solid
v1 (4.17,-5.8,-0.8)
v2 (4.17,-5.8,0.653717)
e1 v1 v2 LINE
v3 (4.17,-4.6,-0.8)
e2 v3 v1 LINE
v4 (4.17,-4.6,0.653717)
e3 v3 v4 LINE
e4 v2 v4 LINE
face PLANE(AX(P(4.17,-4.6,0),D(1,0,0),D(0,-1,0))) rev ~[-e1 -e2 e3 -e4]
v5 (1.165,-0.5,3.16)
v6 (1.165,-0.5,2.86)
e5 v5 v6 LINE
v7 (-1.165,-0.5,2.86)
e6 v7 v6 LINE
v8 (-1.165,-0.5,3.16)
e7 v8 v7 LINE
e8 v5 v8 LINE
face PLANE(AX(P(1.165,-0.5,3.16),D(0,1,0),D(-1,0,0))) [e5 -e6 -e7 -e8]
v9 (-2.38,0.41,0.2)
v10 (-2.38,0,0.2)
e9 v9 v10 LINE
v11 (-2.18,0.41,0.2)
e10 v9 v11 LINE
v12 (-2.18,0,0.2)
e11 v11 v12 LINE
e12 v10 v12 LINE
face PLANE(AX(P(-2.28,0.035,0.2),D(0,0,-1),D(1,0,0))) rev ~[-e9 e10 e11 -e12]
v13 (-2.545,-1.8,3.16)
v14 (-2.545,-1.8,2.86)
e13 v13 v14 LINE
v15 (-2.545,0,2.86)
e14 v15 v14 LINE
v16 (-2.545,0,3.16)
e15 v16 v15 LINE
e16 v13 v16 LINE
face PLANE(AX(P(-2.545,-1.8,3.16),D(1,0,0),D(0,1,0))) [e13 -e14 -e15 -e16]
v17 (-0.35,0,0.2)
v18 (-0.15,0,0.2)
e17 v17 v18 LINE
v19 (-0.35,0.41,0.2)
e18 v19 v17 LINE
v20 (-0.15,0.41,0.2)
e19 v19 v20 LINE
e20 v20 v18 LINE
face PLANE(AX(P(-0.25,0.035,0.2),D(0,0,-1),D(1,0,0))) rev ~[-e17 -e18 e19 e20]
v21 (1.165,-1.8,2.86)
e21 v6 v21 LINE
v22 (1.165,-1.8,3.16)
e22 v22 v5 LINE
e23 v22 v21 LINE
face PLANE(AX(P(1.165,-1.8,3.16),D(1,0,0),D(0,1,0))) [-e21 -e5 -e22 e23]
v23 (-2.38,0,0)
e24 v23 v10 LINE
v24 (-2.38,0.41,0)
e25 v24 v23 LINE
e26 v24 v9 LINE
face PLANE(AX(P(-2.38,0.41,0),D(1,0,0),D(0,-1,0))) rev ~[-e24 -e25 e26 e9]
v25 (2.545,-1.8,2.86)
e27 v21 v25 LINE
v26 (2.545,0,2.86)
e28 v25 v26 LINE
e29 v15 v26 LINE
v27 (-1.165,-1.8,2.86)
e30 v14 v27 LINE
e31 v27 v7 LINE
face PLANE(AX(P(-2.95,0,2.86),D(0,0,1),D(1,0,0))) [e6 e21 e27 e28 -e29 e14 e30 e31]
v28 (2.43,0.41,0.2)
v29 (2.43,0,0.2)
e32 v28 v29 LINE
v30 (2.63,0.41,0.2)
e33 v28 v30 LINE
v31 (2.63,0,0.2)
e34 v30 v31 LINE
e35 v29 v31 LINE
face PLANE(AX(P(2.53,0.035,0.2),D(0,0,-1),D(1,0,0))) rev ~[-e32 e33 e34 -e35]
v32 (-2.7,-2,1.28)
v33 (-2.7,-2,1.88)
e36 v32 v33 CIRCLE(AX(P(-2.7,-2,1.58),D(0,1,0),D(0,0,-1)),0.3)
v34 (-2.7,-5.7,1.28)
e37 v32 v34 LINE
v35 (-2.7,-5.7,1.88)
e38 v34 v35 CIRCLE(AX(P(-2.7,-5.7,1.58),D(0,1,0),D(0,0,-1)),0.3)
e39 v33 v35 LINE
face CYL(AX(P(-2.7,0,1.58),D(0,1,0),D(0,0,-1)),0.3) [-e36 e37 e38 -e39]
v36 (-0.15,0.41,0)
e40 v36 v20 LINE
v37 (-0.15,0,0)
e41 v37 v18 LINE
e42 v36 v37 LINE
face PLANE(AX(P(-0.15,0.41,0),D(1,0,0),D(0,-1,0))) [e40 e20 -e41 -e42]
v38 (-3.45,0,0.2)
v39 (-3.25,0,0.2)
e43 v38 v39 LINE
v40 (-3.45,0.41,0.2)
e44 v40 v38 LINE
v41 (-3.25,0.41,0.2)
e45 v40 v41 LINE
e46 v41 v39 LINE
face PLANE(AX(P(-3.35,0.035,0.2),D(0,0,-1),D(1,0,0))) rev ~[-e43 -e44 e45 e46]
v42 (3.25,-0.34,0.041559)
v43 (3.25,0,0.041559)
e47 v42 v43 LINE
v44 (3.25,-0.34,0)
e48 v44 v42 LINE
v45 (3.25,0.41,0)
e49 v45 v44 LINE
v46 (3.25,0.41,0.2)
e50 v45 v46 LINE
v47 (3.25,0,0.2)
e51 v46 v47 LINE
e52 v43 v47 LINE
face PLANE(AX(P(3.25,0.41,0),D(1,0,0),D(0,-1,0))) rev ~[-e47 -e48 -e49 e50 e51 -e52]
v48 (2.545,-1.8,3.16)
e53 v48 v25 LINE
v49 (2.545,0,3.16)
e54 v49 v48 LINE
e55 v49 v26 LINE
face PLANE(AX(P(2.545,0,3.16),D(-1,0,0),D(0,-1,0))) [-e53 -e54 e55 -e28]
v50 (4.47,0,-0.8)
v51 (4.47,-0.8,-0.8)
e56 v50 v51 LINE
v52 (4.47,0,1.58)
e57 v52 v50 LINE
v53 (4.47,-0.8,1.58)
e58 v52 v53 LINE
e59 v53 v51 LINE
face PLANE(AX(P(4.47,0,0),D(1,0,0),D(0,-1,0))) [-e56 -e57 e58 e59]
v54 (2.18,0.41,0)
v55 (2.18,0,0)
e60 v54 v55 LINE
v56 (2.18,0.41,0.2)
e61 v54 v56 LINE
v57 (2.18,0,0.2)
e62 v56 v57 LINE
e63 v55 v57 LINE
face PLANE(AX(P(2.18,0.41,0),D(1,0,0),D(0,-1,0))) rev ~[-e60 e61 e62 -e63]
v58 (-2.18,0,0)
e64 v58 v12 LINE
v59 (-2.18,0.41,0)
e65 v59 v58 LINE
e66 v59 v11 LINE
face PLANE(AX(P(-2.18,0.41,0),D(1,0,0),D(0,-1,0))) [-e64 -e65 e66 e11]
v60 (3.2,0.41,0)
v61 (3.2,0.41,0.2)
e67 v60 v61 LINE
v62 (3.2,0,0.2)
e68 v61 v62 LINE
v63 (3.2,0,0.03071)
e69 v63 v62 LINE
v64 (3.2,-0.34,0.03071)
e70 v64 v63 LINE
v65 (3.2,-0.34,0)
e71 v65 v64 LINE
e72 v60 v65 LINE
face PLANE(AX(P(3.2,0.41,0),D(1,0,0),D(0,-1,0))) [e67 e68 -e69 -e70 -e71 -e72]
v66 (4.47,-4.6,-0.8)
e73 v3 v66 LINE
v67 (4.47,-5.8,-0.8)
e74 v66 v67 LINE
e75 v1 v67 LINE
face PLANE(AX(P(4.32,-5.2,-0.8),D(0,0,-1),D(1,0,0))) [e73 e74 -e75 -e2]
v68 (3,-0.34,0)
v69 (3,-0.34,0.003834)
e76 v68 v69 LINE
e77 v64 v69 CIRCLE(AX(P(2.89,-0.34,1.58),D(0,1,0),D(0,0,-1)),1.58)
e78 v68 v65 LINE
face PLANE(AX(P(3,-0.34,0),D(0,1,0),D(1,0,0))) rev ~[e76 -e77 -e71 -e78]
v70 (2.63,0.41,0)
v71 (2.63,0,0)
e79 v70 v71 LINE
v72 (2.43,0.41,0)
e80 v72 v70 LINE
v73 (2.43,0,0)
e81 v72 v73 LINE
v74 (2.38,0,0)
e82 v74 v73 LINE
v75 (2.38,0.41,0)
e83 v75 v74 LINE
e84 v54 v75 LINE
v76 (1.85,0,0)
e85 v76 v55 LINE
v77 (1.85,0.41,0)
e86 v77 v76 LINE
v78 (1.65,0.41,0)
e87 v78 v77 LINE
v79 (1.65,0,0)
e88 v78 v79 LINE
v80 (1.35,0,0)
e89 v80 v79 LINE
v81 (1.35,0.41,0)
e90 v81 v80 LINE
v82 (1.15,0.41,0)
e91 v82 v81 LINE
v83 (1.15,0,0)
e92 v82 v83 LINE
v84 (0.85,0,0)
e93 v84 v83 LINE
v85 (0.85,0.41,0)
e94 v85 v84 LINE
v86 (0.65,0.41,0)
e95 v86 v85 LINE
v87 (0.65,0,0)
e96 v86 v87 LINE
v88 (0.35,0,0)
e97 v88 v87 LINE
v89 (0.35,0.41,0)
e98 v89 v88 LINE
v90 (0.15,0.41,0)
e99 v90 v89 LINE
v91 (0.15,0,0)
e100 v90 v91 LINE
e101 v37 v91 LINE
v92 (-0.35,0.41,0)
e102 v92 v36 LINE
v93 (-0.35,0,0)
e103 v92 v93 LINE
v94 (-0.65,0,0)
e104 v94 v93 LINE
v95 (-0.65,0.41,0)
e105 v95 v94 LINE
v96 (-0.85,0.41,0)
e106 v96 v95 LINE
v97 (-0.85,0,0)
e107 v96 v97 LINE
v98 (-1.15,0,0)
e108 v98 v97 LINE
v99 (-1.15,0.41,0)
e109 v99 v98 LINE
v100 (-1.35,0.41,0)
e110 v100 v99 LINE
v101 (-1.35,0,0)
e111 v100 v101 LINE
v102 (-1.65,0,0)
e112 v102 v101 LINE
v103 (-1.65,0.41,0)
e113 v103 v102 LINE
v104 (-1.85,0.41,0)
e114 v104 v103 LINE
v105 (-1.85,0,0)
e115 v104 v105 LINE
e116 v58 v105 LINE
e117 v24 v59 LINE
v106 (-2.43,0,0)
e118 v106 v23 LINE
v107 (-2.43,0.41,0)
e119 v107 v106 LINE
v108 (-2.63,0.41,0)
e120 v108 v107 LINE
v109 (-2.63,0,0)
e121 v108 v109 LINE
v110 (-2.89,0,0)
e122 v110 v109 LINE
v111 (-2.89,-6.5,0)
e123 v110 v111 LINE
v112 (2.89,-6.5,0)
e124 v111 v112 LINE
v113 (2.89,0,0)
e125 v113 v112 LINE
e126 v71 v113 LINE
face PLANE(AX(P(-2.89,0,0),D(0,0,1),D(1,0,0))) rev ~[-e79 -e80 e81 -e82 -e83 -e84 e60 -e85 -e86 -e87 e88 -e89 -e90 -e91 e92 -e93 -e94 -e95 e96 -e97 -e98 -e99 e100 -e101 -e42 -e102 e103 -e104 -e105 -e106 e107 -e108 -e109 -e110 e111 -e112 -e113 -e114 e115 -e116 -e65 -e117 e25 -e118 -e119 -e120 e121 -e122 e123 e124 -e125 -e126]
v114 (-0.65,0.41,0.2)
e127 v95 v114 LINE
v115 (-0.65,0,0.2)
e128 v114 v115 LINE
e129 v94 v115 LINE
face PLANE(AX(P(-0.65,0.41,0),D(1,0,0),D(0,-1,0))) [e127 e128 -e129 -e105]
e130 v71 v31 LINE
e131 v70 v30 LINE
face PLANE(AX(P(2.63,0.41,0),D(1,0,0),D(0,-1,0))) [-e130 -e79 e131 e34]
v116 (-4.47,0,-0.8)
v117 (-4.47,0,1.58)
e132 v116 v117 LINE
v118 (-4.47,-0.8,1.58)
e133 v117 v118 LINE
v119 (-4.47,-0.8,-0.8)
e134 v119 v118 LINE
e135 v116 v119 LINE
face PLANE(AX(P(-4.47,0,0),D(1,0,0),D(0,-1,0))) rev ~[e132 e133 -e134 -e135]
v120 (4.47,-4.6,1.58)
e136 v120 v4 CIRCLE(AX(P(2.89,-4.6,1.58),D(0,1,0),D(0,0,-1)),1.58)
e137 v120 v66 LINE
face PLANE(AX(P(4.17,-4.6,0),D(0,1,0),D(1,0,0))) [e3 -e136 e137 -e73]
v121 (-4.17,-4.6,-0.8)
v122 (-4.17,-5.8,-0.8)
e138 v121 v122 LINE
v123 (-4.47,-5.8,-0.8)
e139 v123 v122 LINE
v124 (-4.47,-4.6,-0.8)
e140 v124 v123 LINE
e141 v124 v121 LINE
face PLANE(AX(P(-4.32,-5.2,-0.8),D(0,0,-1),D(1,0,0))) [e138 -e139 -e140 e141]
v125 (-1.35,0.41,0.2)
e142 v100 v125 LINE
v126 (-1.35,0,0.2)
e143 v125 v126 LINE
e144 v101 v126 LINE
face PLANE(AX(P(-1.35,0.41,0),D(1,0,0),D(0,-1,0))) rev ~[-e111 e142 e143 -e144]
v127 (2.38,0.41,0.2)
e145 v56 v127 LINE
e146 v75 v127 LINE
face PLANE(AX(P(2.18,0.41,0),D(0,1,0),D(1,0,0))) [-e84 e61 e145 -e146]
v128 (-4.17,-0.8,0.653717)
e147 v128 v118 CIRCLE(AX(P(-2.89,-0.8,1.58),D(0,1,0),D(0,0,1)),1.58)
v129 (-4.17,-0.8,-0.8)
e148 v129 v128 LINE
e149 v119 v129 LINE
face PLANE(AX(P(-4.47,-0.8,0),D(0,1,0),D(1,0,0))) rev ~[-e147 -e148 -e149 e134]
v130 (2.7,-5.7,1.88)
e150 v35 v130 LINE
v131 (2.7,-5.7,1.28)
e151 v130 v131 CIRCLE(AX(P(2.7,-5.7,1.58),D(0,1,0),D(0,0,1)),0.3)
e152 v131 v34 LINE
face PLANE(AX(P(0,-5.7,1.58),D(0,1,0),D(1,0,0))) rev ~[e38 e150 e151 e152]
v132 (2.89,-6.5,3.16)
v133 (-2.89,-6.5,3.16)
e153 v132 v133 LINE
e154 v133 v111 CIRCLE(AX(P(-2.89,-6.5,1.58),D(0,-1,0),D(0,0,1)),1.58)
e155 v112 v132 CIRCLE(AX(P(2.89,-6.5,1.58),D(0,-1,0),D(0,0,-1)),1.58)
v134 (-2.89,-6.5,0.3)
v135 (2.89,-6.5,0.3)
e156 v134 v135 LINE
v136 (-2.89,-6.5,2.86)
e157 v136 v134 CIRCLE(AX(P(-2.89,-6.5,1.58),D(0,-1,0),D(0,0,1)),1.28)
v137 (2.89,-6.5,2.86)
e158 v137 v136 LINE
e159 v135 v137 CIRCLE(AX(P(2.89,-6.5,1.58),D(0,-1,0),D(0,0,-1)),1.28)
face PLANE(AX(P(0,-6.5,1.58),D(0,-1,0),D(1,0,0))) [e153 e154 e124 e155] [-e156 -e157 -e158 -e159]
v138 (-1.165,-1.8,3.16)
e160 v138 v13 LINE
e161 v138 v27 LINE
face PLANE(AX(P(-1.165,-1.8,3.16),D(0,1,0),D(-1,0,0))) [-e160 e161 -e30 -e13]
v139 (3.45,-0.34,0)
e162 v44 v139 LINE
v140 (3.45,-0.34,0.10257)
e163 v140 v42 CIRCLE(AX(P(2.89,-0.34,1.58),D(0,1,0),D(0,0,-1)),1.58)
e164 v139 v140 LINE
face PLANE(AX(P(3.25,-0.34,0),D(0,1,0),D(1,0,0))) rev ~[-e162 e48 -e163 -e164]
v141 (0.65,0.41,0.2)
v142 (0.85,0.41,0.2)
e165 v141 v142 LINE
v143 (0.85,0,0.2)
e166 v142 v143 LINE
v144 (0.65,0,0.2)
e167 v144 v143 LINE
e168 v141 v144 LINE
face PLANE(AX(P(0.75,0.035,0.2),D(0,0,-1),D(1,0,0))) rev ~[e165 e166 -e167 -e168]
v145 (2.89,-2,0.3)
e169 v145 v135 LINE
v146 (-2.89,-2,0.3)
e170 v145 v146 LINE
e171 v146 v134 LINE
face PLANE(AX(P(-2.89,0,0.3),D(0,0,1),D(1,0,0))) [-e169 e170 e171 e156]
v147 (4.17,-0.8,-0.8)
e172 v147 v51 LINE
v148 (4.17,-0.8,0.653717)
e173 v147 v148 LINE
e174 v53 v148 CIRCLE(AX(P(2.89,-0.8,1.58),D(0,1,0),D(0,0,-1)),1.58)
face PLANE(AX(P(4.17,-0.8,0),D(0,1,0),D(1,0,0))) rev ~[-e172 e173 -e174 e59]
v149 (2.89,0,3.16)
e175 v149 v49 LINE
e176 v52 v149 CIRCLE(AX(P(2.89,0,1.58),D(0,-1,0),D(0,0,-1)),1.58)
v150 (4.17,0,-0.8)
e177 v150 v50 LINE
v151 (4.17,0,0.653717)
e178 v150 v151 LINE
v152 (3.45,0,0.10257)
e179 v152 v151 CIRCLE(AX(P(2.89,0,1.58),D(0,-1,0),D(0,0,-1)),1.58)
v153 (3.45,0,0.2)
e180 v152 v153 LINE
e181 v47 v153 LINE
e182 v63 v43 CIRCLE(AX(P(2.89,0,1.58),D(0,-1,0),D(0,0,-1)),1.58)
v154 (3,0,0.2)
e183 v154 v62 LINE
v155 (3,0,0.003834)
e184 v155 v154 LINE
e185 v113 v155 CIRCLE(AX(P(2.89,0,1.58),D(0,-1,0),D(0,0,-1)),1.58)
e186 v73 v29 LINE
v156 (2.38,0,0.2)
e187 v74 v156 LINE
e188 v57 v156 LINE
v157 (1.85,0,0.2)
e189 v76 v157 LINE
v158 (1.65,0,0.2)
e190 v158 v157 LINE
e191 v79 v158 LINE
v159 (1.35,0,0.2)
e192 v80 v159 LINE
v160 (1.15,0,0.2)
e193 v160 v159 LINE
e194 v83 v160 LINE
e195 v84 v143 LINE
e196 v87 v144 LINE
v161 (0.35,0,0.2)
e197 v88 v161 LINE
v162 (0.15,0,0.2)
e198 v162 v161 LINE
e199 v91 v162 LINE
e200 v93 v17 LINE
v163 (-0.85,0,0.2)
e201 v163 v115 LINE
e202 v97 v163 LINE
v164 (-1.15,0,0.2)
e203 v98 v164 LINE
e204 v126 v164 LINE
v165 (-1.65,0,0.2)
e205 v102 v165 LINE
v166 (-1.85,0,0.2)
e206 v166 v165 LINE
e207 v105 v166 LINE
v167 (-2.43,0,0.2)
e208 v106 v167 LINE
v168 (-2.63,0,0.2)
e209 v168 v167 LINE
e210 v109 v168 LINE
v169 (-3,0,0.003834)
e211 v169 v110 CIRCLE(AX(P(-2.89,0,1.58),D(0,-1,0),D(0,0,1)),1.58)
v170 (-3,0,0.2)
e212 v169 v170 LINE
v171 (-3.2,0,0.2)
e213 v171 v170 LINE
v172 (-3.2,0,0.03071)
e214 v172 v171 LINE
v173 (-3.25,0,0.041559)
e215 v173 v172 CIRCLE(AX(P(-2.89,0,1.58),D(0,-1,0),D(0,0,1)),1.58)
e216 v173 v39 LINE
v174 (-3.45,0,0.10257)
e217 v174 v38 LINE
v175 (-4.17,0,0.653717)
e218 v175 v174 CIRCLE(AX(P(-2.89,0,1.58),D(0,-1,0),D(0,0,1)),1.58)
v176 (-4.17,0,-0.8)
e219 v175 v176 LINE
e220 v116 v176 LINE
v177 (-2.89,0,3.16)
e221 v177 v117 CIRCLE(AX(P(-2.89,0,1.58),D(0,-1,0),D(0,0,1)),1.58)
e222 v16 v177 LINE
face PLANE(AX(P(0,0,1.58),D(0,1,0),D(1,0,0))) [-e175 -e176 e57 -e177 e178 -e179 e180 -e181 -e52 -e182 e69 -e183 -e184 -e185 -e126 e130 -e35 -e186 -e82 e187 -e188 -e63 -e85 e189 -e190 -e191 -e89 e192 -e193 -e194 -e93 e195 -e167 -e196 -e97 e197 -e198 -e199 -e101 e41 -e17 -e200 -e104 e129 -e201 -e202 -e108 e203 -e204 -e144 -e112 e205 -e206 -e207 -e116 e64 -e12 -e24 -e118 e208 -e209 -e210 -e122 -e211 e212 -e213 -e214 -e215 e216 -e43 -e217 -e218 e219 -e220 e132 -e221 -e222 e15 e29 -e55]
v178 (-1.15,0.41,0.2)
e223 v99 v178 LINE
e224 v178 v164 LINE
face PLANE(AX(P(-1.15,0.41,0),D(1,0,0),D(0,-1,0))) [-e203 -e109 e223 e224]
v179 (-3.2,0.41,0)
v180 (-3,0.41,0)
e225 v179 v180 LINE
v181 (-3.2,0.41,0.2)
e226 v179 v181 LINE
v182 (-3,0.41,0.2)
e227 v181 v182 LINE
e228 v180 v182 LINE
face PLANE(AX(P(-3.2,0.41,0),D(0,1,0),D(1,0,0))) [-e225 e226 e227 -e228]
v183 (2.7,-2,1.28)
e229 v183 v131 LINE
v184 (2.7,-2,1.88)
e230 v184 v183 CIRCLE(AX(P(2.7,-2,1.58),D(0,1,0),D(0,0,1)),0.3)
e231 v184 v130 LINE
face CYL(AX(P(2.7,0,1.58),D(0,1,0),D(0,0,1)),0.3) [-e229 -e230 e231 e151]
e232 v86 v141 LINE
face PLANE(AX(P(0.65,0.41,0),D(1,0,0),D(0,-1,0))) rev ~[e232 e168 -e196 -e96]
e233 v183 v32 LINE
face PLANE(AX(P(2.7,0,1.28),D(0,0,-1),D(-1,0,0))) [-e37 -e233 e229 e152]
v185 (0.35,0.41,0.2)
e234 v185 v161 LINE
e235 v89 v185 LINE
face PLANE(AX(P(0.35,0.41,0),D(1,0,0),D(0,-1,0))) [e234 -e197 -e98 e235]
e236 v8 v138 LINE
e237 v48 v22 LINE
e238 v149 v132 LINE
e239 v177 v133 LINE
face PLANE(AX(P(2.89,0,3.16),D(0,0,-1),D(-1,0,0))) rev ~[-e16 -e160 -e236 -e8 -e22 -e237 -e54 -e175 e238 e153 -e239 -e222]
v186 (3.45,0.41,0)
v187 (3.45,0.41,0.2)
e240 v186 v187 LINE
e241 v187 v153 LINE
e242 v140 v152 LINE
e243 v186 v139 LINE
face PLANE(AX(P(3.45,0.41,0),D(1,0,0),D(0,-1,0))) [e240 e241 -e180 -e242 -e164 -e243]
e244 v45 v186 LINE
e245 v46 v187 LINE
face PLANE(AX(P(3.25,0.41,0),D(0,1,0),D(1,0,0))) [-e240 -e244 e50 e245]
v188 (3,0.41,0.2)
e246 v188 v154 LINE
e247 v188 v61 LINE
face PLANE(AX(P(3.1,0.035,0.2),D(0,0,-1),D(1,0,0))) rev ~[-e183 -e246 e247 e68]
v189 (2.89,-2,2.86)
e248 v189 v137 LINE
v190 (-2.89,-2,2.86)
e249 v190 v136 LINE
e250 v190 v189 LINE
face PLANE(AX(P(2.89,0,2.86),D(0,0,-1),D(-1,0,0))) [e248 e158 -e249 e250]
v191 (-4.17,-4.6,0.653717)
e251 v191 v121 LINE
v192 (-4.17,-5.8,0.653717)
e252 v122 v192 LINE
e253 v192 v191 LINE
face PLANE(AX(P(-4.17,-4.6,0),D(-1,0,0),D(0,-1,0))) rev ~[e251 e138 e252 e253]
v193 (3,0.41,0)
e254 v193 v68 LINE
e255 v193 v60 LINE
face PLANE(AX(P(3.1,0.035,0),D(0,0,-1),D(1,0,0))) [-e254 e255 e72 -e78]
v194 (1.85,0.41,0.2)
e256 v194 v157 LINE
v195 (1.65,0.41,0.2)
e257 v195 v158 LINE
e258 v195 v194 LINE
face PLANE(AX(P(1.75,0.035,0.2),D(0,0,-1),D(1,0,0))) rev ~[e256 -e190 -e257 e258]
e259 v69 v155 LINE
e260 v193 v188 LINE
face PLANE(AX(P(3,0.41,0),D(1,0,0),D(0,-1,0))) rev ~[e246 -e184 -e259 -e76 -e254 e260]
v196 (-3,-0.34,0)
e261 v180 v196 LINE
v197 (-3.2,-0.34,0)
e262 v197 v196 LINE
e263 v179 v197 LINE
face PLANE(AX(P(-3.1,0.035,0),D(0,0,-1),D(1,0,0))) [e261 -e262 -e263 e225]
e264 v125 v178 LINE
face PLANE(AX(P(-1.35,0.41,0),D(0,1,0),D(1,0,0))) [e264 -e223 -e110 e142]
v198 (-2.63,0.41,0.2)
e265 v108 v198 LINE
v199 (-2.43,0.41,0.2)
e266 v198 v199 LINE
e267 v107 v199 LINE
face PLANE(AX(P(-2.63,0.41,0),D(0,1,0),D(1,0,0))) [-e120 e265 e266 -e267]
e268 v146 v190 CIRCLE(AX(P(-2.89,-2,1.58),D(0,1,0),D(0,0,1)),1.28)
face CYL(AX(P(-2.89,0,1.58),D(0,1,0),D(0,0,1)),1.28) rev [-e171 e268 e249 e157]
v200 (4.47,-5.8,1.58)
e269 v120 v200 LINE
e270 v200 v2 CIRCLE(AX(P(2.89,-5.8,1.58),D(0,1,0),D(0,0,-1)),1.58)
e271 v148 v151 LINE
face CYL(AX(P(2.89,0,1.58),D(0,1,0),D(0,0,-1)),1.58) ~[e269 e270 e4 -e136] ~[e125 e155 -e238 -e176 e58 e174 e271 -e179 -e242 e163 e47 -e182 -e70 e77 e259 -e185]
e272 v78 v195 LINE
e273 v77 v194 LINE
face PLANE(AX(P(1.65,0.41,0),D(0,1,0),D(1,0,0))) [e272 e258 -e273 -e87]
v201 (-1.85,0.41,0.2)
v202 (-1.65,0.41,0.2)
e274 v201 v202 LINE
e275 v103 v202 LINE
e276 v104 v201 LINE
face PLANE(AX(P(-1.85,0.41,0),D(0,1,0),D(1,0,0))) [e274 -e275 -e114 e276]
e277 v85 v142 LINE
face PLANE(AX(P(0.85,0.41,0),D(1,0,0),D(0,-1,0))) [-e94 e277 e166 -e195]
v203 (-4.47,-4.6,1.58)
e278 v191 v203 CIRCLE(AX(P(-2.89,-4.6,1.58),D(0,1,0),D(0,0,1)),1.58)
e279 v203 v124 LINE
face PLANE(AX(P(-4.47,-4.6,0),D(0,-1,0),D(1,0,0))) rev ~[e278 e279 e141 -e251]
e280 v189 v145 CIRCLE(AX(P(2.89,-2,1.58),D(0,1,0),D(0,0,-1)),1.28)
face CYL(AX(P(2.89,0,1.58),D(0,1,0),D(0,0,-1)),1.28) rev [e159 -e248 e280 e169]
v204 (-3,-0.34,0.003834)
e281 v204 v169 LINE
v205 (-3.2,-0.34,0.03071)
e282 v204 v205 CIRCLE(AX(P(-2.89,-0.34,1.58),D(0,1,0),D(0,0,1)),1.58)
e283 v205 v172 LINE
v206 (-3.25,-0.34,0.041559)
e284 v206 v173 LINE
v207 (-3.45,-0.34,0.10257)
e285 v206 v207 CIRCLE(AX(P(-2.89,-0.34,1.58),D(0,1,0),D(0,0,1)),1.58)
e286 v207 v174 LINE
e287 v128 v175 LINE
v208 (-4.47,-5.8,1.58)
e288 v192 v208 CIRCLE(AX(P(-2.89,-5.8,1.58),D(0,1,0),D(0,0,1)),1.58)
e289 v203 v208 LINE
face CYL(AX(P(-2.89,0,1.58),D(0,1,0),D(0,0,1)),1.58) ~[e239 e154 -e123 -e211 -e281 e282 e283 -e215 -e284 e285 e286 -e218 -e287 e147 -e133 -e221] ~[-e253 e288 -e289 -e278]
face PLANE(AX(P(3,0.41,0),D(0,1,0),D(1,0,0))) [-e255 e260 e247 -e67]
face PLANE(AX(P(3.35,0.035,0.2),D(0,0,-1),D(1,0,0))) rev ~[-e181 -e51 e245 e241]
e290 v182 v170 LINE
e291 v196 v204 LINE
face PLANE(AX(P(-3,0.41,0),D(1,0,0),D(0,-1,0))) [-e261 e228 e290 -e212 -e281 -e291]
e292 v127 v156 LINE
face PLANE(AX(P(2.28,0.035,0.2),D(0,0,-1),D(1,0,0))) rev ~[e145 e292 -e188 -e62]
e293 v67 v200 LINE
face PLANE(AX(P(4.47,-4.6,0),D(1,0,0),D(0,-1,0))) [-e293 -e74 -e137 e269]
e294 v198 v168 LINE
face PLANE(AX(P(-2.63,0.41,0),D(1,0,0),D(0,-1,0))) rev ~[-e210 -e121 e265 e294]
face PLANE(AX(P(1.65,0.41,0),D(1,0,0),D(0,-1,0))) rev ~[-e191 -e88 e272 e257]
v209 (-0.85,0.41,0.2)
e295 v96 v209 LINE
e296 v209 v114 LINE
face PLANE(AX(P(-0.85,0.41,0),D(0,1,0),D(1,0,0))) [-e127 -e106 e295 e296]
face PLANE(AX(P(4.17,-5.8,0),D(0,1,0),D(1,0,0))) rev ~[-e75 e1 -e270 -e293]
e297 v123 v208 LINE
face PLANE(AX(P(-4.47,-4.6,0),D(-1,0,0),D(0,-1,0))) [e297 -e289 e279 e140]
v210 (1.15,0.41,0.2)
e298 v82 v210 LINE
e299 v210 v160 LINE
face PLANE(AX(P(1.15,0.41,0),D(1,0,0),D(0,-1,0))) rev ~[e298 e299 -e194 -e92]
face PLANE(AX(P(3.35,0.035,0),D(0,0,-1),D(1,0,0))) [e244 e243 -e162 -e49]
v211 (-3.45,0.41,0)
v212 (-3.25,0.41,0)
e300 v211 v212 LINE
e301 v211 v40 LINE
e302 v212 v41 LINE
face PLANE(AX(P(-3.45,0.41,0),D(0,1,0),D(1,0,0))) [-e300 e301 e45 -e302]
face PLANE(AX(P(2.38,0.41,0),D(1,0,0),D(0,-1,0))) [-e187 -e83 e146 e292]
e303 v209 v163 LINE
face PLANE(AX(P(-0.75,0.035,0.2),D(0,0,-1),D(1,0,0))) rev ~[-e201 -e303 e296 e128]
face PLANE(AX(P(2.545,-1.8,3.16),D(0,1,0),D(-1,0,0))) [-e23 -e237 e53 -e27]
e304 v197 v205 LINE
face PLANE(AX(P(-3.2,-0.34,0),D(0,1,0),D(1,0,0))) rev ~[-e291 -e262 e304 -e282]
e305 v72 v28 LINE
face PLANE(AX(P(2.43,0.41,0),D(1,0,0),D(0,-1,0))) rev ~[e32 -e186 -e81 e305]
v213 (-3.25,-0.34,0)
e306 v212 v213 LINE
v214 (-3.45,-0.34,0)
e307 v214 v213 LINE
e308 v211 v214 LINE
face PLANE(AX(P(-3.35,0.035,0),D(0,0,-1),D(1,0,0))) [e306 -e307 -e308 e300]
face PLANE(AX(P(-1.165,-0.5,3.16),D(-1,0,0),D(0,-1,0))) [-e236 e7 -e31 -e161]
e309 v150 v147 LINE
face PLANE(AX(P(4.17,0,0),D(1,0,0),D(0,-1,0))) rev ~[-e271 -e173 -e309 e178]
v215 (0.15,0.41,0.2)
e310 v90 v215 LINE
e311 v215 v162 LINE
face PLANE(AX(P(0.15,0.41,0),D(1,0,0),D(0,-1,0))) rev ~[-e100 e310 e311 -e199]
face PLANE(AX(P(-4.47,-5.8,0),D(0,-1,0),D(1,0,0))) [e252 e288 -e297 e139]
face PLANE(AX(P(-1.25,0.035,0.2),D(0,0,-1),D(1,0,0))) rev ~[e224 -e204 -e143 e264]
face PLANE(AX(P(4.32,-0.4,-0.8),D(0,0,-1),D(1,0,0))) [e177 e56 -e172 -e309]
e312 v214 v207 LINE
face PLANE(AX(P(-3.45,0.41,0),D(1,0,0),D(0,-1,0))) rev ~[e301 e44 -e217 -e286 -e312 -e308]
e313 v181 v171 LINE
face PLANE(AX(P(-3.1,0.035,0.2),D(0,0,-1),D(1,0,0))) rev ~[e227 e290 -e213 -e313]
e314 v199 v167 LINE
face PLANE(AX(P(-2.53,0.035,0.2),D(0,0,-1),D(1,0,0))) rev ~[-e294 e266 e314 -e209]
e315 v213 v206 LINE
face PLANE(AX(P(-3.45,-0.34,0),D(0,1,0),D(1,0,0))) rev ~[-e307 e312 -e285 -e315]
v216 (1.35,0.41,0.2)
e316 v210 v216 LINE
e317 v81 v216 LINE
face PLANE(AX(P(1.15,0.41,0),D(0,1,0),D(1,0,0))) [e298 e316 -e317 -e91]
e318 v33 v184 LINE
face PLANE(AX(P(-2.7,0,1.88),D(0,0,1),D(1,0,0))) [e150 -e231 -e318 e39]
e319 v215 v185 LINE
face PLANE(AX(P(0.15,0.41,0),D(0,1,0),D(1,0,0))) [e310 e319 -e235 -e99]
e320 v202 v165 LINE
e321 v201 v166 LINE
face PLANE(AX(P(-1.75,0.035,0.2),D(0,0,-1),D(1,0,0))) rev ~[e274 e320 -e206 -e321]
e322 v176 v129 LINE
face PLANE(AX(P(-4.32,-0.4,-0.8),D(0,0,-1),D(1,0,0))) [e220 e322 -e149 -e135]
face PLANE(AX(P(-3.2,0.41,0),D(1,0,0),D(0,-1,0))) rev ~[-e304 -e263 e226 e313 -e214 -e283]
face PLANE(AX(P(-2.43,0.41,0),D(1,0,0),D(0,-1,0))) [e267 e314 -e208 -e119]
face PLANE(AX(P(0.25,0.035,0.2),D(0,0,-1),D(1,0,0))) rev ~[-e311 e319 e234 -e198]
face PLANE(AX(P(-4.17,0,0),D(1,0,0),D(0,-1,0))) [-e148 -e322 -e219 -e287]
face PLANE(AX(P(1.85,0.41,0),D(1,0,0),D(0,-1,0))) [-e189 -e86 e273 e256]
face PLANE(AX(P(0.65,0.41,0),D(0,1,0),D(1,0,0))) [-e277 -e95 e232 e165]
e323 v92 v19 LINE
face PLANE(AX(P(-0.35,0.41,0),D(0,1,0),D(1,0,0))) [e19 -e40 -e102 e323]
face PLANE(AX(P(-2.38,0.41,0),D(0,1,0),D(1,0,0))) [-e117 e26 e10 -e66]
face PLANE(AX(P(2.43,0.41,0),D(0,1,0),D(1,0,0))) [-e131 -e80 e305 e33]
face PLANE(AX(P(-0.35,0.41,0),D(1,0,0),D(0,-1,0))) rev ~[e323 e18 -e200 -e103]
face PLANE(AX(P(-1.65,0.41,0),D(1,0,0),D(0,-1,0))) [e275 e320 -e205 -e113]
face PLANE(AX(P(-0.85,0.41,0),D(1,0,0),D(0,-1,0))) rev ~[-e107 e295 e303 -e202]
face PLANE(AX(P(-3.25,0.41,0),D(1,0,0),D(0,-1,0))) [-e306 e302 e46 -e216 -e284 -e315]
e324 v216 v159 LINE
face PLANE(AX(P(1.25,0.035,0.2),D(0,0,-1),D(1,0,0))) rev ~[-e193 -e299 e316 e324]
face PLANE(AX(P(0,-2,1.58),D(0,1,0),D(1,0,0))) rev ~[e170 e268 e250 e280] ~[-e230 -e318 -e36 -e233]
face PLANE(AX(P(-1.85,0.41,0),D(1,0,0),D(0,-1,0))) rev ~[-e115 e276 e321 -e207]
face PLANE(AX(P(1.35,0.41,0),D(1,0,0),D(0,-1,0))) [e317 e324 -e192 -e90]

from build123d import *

# Parameters (mm, degrees)
PAD_DEPTH         = 6.5
POCKET_DEPTH      = 1
SKETCH002_W       = 0.3
SKETCH002_H       = 1.2
SKETCH002_H_2     = 0.8
PAD001_DEPTH      = 1.58
PAD001_DEPTH_BACK = -0.8
SKETCH004_W       = 0.2
SKETCH004_H       = 0.75
PAD002_DEPTH      = 0.2
PAD003_DEPTH      = 2
PAD004_DEPTH      = 5.7


with BuildPart() as part:
    # Sketch → Pad (new body)
    with BuildSketch(Plane.XZ):
        with BuildLine():
            ThreePointArc((-2.89, 3.16), (-4.47, 1.58), (-2.89, 0))
            Line((-2.89, 0), (2.89, 0))
            ThreePointArc((2.89, 0), (4.47, 1.58), (2.89, 3.16))
            Line((2.89, 3.16), (-2.89, 3.16))
        make_face()
        with BuildLine():
            ThreePointArc((-2.89, 2.86), (-4.17, 1.58), (-2.89, 0.3))
            Line((-2.89, 0.3), (2.89, 0.3))
            ThreePointArc((2.89, 0.3), (4.17, 1.58), (2.89, 2.86))
            Line((2.89, 2.86), (-2.89, 2.86))
        make_face(mode=Mode.SUBTRACT)
    extrude(amount=PAD_DEPTH)

    # Sketch001 (on DatumPlane) → Pocket (cut)
    with BuildSketch(Plane(origin=(0, 0, 3.16), x_dir=(-1, 0, 0), z_dir=(0, 0, 1))):
        Polygon((-2.545, 0), (-2.545, 1.8), (-1.165, 1.8), (-1.165, 0.5), (1.165, 0.5), (1.165, 1.8), (2.545, 1.8), (2.545, 0), align=None)
    extrude(amount=-POCKET_DEPTH, mode=Mode.SUBTRACT)

    # Sketch002 (on DatumPlane) → Pad001 (join, two sides)
    with BuildSketch(Plane(origin=(0, 0, 0), x_dir=(1, 0, 0), z_dir=(0, 0, -1))) as pad001_sk:
        with Locations((-4.32, 5.2)):
            Rectangle(SKETCH002_W, SKETCH002_H)
        with Locations((4.32, 5.2)):
            Rectangle(SKETCH002_W, SKETCH002_H)
        with Locations((-4.32, 0.4)):
            Rectangle(SKETCH002_W, SKETCH002_H_2)
        with Locations((4.32, 0.4)):
            Rectangle(SKETCH002_W, SKETCH002_H_2)
    extrude(amount=-PAD001_DEPTH)
    extrude(pad001_sk.sketch, amount=-PAD001_DEPTH_BACK)

    # Sketch004 → Pad002 (join)
    with BuildSketch(Plane(origin=(0, 0, 0), x_dir=(1, 0, 0), z_dir=(0, 0, -1))):
        with Locations((-3.35, -0.035)):
            Rectangle(SKETCH004_W, SKETCH004_H)
        with Locations((-3.1, -0.035)):
            Rectangle(SKETCH004_W, SKETCH004_H)
        with Locations((-2.53, -0.035)):
            Rectangle(SKETCH004_W, SKETCH004_H)
        with Locations((-2.28, -0.035)):
            Rectangle(SKETCH004_W, SKETCH004_H)
        with Locations((-1.75, -0.035)):
            Rectangle(SKETCH004_W, SKETCH004_H)
        with Locations((-1.25, -0.035)):
            Rectangle(SKETCH004_W, SKETCH004_H)
        with Locations((-0.75, -0.035)):
            Rectangle(SKETCH004_W, SKETCH004_H)
        with Locations((-0.25, -0.035)):
            Rectangle(SKETCH004_W, SKETCH004_H)
        with Locations((3.35, -0.035)):
            Rectangle(SKETCH004_W, SKETCH004_H)
        with Locations((3.1, -0.035)):
            Rectangle(SKETCH004_W, SKETCH004_H)
        with Locations((2.53, -0.035)):
            Rectangle(SKETCH004_W, SKETCH004_H)
        with Locations((2.28, -0.035)):
            Rectangle(SKETCH004_W, SKETCH004_H)
        with Locations((1.75, -0.035)):
            Rectangle(SKETCH004_W, SKETCH004_H)
        with Locations((1.25, -0.035)):
            Rectangle(SKETCH004_W, SKETCH004_H)
        with Locations((0.75, -0.035)):
            Rectangle(SKETCH004_W, SKETCH004_H)
        with Locations((0.25, -0.035)):
            Rectangle(SKETCH004_W, SKETCH004_H)
    extrude(amount=-PAD002_DEPTH)

    # Sketch005 (on DatumPlane) → Pad003 (join)
    with BuildSketch(Plane(origin=(0, 0, 0), x_dir=(1, 0, 0), z_dir=(0, 1, 0))):
        with BuildLine():
            ThreePointArc((-2.95, -0.3), (-4.23, -1.58), (-2.95, -2.86))
            Line((-2.95, -2.86), (2.95, -2.86))
            ThreePointArc((2.95, -2.86), (4.23, -1.58), (2.95, -0.3))
            Line((2.95, -0.3), (-2.95, -0.3))
        make_face()
    extrude(amount=-PAD003_DEPTH)

    # Sketch006 (on DatumPlane) → Pad004 (join)
    with BuildSketch(Plane(origin=(0, 0, 0), x_dir=(1, 0, 0), z_dir=(0, 1, 0))):
        with BuildLine():
            ThreePointArc((-2.7, -1.28), (-3, -1.58), (-2.7, -1.88))
            Line((-2.7, -1.88), (2.7, -1.88))
            ThreePointArc((2.7, -1.88), (3, -1.58), (2.7, -1.28))
            Line((2.7, -1.28), (-2.7, -1.28))
        make_face()
    extrude(amount=-PAD004_DEPTH)


solid = part.part
